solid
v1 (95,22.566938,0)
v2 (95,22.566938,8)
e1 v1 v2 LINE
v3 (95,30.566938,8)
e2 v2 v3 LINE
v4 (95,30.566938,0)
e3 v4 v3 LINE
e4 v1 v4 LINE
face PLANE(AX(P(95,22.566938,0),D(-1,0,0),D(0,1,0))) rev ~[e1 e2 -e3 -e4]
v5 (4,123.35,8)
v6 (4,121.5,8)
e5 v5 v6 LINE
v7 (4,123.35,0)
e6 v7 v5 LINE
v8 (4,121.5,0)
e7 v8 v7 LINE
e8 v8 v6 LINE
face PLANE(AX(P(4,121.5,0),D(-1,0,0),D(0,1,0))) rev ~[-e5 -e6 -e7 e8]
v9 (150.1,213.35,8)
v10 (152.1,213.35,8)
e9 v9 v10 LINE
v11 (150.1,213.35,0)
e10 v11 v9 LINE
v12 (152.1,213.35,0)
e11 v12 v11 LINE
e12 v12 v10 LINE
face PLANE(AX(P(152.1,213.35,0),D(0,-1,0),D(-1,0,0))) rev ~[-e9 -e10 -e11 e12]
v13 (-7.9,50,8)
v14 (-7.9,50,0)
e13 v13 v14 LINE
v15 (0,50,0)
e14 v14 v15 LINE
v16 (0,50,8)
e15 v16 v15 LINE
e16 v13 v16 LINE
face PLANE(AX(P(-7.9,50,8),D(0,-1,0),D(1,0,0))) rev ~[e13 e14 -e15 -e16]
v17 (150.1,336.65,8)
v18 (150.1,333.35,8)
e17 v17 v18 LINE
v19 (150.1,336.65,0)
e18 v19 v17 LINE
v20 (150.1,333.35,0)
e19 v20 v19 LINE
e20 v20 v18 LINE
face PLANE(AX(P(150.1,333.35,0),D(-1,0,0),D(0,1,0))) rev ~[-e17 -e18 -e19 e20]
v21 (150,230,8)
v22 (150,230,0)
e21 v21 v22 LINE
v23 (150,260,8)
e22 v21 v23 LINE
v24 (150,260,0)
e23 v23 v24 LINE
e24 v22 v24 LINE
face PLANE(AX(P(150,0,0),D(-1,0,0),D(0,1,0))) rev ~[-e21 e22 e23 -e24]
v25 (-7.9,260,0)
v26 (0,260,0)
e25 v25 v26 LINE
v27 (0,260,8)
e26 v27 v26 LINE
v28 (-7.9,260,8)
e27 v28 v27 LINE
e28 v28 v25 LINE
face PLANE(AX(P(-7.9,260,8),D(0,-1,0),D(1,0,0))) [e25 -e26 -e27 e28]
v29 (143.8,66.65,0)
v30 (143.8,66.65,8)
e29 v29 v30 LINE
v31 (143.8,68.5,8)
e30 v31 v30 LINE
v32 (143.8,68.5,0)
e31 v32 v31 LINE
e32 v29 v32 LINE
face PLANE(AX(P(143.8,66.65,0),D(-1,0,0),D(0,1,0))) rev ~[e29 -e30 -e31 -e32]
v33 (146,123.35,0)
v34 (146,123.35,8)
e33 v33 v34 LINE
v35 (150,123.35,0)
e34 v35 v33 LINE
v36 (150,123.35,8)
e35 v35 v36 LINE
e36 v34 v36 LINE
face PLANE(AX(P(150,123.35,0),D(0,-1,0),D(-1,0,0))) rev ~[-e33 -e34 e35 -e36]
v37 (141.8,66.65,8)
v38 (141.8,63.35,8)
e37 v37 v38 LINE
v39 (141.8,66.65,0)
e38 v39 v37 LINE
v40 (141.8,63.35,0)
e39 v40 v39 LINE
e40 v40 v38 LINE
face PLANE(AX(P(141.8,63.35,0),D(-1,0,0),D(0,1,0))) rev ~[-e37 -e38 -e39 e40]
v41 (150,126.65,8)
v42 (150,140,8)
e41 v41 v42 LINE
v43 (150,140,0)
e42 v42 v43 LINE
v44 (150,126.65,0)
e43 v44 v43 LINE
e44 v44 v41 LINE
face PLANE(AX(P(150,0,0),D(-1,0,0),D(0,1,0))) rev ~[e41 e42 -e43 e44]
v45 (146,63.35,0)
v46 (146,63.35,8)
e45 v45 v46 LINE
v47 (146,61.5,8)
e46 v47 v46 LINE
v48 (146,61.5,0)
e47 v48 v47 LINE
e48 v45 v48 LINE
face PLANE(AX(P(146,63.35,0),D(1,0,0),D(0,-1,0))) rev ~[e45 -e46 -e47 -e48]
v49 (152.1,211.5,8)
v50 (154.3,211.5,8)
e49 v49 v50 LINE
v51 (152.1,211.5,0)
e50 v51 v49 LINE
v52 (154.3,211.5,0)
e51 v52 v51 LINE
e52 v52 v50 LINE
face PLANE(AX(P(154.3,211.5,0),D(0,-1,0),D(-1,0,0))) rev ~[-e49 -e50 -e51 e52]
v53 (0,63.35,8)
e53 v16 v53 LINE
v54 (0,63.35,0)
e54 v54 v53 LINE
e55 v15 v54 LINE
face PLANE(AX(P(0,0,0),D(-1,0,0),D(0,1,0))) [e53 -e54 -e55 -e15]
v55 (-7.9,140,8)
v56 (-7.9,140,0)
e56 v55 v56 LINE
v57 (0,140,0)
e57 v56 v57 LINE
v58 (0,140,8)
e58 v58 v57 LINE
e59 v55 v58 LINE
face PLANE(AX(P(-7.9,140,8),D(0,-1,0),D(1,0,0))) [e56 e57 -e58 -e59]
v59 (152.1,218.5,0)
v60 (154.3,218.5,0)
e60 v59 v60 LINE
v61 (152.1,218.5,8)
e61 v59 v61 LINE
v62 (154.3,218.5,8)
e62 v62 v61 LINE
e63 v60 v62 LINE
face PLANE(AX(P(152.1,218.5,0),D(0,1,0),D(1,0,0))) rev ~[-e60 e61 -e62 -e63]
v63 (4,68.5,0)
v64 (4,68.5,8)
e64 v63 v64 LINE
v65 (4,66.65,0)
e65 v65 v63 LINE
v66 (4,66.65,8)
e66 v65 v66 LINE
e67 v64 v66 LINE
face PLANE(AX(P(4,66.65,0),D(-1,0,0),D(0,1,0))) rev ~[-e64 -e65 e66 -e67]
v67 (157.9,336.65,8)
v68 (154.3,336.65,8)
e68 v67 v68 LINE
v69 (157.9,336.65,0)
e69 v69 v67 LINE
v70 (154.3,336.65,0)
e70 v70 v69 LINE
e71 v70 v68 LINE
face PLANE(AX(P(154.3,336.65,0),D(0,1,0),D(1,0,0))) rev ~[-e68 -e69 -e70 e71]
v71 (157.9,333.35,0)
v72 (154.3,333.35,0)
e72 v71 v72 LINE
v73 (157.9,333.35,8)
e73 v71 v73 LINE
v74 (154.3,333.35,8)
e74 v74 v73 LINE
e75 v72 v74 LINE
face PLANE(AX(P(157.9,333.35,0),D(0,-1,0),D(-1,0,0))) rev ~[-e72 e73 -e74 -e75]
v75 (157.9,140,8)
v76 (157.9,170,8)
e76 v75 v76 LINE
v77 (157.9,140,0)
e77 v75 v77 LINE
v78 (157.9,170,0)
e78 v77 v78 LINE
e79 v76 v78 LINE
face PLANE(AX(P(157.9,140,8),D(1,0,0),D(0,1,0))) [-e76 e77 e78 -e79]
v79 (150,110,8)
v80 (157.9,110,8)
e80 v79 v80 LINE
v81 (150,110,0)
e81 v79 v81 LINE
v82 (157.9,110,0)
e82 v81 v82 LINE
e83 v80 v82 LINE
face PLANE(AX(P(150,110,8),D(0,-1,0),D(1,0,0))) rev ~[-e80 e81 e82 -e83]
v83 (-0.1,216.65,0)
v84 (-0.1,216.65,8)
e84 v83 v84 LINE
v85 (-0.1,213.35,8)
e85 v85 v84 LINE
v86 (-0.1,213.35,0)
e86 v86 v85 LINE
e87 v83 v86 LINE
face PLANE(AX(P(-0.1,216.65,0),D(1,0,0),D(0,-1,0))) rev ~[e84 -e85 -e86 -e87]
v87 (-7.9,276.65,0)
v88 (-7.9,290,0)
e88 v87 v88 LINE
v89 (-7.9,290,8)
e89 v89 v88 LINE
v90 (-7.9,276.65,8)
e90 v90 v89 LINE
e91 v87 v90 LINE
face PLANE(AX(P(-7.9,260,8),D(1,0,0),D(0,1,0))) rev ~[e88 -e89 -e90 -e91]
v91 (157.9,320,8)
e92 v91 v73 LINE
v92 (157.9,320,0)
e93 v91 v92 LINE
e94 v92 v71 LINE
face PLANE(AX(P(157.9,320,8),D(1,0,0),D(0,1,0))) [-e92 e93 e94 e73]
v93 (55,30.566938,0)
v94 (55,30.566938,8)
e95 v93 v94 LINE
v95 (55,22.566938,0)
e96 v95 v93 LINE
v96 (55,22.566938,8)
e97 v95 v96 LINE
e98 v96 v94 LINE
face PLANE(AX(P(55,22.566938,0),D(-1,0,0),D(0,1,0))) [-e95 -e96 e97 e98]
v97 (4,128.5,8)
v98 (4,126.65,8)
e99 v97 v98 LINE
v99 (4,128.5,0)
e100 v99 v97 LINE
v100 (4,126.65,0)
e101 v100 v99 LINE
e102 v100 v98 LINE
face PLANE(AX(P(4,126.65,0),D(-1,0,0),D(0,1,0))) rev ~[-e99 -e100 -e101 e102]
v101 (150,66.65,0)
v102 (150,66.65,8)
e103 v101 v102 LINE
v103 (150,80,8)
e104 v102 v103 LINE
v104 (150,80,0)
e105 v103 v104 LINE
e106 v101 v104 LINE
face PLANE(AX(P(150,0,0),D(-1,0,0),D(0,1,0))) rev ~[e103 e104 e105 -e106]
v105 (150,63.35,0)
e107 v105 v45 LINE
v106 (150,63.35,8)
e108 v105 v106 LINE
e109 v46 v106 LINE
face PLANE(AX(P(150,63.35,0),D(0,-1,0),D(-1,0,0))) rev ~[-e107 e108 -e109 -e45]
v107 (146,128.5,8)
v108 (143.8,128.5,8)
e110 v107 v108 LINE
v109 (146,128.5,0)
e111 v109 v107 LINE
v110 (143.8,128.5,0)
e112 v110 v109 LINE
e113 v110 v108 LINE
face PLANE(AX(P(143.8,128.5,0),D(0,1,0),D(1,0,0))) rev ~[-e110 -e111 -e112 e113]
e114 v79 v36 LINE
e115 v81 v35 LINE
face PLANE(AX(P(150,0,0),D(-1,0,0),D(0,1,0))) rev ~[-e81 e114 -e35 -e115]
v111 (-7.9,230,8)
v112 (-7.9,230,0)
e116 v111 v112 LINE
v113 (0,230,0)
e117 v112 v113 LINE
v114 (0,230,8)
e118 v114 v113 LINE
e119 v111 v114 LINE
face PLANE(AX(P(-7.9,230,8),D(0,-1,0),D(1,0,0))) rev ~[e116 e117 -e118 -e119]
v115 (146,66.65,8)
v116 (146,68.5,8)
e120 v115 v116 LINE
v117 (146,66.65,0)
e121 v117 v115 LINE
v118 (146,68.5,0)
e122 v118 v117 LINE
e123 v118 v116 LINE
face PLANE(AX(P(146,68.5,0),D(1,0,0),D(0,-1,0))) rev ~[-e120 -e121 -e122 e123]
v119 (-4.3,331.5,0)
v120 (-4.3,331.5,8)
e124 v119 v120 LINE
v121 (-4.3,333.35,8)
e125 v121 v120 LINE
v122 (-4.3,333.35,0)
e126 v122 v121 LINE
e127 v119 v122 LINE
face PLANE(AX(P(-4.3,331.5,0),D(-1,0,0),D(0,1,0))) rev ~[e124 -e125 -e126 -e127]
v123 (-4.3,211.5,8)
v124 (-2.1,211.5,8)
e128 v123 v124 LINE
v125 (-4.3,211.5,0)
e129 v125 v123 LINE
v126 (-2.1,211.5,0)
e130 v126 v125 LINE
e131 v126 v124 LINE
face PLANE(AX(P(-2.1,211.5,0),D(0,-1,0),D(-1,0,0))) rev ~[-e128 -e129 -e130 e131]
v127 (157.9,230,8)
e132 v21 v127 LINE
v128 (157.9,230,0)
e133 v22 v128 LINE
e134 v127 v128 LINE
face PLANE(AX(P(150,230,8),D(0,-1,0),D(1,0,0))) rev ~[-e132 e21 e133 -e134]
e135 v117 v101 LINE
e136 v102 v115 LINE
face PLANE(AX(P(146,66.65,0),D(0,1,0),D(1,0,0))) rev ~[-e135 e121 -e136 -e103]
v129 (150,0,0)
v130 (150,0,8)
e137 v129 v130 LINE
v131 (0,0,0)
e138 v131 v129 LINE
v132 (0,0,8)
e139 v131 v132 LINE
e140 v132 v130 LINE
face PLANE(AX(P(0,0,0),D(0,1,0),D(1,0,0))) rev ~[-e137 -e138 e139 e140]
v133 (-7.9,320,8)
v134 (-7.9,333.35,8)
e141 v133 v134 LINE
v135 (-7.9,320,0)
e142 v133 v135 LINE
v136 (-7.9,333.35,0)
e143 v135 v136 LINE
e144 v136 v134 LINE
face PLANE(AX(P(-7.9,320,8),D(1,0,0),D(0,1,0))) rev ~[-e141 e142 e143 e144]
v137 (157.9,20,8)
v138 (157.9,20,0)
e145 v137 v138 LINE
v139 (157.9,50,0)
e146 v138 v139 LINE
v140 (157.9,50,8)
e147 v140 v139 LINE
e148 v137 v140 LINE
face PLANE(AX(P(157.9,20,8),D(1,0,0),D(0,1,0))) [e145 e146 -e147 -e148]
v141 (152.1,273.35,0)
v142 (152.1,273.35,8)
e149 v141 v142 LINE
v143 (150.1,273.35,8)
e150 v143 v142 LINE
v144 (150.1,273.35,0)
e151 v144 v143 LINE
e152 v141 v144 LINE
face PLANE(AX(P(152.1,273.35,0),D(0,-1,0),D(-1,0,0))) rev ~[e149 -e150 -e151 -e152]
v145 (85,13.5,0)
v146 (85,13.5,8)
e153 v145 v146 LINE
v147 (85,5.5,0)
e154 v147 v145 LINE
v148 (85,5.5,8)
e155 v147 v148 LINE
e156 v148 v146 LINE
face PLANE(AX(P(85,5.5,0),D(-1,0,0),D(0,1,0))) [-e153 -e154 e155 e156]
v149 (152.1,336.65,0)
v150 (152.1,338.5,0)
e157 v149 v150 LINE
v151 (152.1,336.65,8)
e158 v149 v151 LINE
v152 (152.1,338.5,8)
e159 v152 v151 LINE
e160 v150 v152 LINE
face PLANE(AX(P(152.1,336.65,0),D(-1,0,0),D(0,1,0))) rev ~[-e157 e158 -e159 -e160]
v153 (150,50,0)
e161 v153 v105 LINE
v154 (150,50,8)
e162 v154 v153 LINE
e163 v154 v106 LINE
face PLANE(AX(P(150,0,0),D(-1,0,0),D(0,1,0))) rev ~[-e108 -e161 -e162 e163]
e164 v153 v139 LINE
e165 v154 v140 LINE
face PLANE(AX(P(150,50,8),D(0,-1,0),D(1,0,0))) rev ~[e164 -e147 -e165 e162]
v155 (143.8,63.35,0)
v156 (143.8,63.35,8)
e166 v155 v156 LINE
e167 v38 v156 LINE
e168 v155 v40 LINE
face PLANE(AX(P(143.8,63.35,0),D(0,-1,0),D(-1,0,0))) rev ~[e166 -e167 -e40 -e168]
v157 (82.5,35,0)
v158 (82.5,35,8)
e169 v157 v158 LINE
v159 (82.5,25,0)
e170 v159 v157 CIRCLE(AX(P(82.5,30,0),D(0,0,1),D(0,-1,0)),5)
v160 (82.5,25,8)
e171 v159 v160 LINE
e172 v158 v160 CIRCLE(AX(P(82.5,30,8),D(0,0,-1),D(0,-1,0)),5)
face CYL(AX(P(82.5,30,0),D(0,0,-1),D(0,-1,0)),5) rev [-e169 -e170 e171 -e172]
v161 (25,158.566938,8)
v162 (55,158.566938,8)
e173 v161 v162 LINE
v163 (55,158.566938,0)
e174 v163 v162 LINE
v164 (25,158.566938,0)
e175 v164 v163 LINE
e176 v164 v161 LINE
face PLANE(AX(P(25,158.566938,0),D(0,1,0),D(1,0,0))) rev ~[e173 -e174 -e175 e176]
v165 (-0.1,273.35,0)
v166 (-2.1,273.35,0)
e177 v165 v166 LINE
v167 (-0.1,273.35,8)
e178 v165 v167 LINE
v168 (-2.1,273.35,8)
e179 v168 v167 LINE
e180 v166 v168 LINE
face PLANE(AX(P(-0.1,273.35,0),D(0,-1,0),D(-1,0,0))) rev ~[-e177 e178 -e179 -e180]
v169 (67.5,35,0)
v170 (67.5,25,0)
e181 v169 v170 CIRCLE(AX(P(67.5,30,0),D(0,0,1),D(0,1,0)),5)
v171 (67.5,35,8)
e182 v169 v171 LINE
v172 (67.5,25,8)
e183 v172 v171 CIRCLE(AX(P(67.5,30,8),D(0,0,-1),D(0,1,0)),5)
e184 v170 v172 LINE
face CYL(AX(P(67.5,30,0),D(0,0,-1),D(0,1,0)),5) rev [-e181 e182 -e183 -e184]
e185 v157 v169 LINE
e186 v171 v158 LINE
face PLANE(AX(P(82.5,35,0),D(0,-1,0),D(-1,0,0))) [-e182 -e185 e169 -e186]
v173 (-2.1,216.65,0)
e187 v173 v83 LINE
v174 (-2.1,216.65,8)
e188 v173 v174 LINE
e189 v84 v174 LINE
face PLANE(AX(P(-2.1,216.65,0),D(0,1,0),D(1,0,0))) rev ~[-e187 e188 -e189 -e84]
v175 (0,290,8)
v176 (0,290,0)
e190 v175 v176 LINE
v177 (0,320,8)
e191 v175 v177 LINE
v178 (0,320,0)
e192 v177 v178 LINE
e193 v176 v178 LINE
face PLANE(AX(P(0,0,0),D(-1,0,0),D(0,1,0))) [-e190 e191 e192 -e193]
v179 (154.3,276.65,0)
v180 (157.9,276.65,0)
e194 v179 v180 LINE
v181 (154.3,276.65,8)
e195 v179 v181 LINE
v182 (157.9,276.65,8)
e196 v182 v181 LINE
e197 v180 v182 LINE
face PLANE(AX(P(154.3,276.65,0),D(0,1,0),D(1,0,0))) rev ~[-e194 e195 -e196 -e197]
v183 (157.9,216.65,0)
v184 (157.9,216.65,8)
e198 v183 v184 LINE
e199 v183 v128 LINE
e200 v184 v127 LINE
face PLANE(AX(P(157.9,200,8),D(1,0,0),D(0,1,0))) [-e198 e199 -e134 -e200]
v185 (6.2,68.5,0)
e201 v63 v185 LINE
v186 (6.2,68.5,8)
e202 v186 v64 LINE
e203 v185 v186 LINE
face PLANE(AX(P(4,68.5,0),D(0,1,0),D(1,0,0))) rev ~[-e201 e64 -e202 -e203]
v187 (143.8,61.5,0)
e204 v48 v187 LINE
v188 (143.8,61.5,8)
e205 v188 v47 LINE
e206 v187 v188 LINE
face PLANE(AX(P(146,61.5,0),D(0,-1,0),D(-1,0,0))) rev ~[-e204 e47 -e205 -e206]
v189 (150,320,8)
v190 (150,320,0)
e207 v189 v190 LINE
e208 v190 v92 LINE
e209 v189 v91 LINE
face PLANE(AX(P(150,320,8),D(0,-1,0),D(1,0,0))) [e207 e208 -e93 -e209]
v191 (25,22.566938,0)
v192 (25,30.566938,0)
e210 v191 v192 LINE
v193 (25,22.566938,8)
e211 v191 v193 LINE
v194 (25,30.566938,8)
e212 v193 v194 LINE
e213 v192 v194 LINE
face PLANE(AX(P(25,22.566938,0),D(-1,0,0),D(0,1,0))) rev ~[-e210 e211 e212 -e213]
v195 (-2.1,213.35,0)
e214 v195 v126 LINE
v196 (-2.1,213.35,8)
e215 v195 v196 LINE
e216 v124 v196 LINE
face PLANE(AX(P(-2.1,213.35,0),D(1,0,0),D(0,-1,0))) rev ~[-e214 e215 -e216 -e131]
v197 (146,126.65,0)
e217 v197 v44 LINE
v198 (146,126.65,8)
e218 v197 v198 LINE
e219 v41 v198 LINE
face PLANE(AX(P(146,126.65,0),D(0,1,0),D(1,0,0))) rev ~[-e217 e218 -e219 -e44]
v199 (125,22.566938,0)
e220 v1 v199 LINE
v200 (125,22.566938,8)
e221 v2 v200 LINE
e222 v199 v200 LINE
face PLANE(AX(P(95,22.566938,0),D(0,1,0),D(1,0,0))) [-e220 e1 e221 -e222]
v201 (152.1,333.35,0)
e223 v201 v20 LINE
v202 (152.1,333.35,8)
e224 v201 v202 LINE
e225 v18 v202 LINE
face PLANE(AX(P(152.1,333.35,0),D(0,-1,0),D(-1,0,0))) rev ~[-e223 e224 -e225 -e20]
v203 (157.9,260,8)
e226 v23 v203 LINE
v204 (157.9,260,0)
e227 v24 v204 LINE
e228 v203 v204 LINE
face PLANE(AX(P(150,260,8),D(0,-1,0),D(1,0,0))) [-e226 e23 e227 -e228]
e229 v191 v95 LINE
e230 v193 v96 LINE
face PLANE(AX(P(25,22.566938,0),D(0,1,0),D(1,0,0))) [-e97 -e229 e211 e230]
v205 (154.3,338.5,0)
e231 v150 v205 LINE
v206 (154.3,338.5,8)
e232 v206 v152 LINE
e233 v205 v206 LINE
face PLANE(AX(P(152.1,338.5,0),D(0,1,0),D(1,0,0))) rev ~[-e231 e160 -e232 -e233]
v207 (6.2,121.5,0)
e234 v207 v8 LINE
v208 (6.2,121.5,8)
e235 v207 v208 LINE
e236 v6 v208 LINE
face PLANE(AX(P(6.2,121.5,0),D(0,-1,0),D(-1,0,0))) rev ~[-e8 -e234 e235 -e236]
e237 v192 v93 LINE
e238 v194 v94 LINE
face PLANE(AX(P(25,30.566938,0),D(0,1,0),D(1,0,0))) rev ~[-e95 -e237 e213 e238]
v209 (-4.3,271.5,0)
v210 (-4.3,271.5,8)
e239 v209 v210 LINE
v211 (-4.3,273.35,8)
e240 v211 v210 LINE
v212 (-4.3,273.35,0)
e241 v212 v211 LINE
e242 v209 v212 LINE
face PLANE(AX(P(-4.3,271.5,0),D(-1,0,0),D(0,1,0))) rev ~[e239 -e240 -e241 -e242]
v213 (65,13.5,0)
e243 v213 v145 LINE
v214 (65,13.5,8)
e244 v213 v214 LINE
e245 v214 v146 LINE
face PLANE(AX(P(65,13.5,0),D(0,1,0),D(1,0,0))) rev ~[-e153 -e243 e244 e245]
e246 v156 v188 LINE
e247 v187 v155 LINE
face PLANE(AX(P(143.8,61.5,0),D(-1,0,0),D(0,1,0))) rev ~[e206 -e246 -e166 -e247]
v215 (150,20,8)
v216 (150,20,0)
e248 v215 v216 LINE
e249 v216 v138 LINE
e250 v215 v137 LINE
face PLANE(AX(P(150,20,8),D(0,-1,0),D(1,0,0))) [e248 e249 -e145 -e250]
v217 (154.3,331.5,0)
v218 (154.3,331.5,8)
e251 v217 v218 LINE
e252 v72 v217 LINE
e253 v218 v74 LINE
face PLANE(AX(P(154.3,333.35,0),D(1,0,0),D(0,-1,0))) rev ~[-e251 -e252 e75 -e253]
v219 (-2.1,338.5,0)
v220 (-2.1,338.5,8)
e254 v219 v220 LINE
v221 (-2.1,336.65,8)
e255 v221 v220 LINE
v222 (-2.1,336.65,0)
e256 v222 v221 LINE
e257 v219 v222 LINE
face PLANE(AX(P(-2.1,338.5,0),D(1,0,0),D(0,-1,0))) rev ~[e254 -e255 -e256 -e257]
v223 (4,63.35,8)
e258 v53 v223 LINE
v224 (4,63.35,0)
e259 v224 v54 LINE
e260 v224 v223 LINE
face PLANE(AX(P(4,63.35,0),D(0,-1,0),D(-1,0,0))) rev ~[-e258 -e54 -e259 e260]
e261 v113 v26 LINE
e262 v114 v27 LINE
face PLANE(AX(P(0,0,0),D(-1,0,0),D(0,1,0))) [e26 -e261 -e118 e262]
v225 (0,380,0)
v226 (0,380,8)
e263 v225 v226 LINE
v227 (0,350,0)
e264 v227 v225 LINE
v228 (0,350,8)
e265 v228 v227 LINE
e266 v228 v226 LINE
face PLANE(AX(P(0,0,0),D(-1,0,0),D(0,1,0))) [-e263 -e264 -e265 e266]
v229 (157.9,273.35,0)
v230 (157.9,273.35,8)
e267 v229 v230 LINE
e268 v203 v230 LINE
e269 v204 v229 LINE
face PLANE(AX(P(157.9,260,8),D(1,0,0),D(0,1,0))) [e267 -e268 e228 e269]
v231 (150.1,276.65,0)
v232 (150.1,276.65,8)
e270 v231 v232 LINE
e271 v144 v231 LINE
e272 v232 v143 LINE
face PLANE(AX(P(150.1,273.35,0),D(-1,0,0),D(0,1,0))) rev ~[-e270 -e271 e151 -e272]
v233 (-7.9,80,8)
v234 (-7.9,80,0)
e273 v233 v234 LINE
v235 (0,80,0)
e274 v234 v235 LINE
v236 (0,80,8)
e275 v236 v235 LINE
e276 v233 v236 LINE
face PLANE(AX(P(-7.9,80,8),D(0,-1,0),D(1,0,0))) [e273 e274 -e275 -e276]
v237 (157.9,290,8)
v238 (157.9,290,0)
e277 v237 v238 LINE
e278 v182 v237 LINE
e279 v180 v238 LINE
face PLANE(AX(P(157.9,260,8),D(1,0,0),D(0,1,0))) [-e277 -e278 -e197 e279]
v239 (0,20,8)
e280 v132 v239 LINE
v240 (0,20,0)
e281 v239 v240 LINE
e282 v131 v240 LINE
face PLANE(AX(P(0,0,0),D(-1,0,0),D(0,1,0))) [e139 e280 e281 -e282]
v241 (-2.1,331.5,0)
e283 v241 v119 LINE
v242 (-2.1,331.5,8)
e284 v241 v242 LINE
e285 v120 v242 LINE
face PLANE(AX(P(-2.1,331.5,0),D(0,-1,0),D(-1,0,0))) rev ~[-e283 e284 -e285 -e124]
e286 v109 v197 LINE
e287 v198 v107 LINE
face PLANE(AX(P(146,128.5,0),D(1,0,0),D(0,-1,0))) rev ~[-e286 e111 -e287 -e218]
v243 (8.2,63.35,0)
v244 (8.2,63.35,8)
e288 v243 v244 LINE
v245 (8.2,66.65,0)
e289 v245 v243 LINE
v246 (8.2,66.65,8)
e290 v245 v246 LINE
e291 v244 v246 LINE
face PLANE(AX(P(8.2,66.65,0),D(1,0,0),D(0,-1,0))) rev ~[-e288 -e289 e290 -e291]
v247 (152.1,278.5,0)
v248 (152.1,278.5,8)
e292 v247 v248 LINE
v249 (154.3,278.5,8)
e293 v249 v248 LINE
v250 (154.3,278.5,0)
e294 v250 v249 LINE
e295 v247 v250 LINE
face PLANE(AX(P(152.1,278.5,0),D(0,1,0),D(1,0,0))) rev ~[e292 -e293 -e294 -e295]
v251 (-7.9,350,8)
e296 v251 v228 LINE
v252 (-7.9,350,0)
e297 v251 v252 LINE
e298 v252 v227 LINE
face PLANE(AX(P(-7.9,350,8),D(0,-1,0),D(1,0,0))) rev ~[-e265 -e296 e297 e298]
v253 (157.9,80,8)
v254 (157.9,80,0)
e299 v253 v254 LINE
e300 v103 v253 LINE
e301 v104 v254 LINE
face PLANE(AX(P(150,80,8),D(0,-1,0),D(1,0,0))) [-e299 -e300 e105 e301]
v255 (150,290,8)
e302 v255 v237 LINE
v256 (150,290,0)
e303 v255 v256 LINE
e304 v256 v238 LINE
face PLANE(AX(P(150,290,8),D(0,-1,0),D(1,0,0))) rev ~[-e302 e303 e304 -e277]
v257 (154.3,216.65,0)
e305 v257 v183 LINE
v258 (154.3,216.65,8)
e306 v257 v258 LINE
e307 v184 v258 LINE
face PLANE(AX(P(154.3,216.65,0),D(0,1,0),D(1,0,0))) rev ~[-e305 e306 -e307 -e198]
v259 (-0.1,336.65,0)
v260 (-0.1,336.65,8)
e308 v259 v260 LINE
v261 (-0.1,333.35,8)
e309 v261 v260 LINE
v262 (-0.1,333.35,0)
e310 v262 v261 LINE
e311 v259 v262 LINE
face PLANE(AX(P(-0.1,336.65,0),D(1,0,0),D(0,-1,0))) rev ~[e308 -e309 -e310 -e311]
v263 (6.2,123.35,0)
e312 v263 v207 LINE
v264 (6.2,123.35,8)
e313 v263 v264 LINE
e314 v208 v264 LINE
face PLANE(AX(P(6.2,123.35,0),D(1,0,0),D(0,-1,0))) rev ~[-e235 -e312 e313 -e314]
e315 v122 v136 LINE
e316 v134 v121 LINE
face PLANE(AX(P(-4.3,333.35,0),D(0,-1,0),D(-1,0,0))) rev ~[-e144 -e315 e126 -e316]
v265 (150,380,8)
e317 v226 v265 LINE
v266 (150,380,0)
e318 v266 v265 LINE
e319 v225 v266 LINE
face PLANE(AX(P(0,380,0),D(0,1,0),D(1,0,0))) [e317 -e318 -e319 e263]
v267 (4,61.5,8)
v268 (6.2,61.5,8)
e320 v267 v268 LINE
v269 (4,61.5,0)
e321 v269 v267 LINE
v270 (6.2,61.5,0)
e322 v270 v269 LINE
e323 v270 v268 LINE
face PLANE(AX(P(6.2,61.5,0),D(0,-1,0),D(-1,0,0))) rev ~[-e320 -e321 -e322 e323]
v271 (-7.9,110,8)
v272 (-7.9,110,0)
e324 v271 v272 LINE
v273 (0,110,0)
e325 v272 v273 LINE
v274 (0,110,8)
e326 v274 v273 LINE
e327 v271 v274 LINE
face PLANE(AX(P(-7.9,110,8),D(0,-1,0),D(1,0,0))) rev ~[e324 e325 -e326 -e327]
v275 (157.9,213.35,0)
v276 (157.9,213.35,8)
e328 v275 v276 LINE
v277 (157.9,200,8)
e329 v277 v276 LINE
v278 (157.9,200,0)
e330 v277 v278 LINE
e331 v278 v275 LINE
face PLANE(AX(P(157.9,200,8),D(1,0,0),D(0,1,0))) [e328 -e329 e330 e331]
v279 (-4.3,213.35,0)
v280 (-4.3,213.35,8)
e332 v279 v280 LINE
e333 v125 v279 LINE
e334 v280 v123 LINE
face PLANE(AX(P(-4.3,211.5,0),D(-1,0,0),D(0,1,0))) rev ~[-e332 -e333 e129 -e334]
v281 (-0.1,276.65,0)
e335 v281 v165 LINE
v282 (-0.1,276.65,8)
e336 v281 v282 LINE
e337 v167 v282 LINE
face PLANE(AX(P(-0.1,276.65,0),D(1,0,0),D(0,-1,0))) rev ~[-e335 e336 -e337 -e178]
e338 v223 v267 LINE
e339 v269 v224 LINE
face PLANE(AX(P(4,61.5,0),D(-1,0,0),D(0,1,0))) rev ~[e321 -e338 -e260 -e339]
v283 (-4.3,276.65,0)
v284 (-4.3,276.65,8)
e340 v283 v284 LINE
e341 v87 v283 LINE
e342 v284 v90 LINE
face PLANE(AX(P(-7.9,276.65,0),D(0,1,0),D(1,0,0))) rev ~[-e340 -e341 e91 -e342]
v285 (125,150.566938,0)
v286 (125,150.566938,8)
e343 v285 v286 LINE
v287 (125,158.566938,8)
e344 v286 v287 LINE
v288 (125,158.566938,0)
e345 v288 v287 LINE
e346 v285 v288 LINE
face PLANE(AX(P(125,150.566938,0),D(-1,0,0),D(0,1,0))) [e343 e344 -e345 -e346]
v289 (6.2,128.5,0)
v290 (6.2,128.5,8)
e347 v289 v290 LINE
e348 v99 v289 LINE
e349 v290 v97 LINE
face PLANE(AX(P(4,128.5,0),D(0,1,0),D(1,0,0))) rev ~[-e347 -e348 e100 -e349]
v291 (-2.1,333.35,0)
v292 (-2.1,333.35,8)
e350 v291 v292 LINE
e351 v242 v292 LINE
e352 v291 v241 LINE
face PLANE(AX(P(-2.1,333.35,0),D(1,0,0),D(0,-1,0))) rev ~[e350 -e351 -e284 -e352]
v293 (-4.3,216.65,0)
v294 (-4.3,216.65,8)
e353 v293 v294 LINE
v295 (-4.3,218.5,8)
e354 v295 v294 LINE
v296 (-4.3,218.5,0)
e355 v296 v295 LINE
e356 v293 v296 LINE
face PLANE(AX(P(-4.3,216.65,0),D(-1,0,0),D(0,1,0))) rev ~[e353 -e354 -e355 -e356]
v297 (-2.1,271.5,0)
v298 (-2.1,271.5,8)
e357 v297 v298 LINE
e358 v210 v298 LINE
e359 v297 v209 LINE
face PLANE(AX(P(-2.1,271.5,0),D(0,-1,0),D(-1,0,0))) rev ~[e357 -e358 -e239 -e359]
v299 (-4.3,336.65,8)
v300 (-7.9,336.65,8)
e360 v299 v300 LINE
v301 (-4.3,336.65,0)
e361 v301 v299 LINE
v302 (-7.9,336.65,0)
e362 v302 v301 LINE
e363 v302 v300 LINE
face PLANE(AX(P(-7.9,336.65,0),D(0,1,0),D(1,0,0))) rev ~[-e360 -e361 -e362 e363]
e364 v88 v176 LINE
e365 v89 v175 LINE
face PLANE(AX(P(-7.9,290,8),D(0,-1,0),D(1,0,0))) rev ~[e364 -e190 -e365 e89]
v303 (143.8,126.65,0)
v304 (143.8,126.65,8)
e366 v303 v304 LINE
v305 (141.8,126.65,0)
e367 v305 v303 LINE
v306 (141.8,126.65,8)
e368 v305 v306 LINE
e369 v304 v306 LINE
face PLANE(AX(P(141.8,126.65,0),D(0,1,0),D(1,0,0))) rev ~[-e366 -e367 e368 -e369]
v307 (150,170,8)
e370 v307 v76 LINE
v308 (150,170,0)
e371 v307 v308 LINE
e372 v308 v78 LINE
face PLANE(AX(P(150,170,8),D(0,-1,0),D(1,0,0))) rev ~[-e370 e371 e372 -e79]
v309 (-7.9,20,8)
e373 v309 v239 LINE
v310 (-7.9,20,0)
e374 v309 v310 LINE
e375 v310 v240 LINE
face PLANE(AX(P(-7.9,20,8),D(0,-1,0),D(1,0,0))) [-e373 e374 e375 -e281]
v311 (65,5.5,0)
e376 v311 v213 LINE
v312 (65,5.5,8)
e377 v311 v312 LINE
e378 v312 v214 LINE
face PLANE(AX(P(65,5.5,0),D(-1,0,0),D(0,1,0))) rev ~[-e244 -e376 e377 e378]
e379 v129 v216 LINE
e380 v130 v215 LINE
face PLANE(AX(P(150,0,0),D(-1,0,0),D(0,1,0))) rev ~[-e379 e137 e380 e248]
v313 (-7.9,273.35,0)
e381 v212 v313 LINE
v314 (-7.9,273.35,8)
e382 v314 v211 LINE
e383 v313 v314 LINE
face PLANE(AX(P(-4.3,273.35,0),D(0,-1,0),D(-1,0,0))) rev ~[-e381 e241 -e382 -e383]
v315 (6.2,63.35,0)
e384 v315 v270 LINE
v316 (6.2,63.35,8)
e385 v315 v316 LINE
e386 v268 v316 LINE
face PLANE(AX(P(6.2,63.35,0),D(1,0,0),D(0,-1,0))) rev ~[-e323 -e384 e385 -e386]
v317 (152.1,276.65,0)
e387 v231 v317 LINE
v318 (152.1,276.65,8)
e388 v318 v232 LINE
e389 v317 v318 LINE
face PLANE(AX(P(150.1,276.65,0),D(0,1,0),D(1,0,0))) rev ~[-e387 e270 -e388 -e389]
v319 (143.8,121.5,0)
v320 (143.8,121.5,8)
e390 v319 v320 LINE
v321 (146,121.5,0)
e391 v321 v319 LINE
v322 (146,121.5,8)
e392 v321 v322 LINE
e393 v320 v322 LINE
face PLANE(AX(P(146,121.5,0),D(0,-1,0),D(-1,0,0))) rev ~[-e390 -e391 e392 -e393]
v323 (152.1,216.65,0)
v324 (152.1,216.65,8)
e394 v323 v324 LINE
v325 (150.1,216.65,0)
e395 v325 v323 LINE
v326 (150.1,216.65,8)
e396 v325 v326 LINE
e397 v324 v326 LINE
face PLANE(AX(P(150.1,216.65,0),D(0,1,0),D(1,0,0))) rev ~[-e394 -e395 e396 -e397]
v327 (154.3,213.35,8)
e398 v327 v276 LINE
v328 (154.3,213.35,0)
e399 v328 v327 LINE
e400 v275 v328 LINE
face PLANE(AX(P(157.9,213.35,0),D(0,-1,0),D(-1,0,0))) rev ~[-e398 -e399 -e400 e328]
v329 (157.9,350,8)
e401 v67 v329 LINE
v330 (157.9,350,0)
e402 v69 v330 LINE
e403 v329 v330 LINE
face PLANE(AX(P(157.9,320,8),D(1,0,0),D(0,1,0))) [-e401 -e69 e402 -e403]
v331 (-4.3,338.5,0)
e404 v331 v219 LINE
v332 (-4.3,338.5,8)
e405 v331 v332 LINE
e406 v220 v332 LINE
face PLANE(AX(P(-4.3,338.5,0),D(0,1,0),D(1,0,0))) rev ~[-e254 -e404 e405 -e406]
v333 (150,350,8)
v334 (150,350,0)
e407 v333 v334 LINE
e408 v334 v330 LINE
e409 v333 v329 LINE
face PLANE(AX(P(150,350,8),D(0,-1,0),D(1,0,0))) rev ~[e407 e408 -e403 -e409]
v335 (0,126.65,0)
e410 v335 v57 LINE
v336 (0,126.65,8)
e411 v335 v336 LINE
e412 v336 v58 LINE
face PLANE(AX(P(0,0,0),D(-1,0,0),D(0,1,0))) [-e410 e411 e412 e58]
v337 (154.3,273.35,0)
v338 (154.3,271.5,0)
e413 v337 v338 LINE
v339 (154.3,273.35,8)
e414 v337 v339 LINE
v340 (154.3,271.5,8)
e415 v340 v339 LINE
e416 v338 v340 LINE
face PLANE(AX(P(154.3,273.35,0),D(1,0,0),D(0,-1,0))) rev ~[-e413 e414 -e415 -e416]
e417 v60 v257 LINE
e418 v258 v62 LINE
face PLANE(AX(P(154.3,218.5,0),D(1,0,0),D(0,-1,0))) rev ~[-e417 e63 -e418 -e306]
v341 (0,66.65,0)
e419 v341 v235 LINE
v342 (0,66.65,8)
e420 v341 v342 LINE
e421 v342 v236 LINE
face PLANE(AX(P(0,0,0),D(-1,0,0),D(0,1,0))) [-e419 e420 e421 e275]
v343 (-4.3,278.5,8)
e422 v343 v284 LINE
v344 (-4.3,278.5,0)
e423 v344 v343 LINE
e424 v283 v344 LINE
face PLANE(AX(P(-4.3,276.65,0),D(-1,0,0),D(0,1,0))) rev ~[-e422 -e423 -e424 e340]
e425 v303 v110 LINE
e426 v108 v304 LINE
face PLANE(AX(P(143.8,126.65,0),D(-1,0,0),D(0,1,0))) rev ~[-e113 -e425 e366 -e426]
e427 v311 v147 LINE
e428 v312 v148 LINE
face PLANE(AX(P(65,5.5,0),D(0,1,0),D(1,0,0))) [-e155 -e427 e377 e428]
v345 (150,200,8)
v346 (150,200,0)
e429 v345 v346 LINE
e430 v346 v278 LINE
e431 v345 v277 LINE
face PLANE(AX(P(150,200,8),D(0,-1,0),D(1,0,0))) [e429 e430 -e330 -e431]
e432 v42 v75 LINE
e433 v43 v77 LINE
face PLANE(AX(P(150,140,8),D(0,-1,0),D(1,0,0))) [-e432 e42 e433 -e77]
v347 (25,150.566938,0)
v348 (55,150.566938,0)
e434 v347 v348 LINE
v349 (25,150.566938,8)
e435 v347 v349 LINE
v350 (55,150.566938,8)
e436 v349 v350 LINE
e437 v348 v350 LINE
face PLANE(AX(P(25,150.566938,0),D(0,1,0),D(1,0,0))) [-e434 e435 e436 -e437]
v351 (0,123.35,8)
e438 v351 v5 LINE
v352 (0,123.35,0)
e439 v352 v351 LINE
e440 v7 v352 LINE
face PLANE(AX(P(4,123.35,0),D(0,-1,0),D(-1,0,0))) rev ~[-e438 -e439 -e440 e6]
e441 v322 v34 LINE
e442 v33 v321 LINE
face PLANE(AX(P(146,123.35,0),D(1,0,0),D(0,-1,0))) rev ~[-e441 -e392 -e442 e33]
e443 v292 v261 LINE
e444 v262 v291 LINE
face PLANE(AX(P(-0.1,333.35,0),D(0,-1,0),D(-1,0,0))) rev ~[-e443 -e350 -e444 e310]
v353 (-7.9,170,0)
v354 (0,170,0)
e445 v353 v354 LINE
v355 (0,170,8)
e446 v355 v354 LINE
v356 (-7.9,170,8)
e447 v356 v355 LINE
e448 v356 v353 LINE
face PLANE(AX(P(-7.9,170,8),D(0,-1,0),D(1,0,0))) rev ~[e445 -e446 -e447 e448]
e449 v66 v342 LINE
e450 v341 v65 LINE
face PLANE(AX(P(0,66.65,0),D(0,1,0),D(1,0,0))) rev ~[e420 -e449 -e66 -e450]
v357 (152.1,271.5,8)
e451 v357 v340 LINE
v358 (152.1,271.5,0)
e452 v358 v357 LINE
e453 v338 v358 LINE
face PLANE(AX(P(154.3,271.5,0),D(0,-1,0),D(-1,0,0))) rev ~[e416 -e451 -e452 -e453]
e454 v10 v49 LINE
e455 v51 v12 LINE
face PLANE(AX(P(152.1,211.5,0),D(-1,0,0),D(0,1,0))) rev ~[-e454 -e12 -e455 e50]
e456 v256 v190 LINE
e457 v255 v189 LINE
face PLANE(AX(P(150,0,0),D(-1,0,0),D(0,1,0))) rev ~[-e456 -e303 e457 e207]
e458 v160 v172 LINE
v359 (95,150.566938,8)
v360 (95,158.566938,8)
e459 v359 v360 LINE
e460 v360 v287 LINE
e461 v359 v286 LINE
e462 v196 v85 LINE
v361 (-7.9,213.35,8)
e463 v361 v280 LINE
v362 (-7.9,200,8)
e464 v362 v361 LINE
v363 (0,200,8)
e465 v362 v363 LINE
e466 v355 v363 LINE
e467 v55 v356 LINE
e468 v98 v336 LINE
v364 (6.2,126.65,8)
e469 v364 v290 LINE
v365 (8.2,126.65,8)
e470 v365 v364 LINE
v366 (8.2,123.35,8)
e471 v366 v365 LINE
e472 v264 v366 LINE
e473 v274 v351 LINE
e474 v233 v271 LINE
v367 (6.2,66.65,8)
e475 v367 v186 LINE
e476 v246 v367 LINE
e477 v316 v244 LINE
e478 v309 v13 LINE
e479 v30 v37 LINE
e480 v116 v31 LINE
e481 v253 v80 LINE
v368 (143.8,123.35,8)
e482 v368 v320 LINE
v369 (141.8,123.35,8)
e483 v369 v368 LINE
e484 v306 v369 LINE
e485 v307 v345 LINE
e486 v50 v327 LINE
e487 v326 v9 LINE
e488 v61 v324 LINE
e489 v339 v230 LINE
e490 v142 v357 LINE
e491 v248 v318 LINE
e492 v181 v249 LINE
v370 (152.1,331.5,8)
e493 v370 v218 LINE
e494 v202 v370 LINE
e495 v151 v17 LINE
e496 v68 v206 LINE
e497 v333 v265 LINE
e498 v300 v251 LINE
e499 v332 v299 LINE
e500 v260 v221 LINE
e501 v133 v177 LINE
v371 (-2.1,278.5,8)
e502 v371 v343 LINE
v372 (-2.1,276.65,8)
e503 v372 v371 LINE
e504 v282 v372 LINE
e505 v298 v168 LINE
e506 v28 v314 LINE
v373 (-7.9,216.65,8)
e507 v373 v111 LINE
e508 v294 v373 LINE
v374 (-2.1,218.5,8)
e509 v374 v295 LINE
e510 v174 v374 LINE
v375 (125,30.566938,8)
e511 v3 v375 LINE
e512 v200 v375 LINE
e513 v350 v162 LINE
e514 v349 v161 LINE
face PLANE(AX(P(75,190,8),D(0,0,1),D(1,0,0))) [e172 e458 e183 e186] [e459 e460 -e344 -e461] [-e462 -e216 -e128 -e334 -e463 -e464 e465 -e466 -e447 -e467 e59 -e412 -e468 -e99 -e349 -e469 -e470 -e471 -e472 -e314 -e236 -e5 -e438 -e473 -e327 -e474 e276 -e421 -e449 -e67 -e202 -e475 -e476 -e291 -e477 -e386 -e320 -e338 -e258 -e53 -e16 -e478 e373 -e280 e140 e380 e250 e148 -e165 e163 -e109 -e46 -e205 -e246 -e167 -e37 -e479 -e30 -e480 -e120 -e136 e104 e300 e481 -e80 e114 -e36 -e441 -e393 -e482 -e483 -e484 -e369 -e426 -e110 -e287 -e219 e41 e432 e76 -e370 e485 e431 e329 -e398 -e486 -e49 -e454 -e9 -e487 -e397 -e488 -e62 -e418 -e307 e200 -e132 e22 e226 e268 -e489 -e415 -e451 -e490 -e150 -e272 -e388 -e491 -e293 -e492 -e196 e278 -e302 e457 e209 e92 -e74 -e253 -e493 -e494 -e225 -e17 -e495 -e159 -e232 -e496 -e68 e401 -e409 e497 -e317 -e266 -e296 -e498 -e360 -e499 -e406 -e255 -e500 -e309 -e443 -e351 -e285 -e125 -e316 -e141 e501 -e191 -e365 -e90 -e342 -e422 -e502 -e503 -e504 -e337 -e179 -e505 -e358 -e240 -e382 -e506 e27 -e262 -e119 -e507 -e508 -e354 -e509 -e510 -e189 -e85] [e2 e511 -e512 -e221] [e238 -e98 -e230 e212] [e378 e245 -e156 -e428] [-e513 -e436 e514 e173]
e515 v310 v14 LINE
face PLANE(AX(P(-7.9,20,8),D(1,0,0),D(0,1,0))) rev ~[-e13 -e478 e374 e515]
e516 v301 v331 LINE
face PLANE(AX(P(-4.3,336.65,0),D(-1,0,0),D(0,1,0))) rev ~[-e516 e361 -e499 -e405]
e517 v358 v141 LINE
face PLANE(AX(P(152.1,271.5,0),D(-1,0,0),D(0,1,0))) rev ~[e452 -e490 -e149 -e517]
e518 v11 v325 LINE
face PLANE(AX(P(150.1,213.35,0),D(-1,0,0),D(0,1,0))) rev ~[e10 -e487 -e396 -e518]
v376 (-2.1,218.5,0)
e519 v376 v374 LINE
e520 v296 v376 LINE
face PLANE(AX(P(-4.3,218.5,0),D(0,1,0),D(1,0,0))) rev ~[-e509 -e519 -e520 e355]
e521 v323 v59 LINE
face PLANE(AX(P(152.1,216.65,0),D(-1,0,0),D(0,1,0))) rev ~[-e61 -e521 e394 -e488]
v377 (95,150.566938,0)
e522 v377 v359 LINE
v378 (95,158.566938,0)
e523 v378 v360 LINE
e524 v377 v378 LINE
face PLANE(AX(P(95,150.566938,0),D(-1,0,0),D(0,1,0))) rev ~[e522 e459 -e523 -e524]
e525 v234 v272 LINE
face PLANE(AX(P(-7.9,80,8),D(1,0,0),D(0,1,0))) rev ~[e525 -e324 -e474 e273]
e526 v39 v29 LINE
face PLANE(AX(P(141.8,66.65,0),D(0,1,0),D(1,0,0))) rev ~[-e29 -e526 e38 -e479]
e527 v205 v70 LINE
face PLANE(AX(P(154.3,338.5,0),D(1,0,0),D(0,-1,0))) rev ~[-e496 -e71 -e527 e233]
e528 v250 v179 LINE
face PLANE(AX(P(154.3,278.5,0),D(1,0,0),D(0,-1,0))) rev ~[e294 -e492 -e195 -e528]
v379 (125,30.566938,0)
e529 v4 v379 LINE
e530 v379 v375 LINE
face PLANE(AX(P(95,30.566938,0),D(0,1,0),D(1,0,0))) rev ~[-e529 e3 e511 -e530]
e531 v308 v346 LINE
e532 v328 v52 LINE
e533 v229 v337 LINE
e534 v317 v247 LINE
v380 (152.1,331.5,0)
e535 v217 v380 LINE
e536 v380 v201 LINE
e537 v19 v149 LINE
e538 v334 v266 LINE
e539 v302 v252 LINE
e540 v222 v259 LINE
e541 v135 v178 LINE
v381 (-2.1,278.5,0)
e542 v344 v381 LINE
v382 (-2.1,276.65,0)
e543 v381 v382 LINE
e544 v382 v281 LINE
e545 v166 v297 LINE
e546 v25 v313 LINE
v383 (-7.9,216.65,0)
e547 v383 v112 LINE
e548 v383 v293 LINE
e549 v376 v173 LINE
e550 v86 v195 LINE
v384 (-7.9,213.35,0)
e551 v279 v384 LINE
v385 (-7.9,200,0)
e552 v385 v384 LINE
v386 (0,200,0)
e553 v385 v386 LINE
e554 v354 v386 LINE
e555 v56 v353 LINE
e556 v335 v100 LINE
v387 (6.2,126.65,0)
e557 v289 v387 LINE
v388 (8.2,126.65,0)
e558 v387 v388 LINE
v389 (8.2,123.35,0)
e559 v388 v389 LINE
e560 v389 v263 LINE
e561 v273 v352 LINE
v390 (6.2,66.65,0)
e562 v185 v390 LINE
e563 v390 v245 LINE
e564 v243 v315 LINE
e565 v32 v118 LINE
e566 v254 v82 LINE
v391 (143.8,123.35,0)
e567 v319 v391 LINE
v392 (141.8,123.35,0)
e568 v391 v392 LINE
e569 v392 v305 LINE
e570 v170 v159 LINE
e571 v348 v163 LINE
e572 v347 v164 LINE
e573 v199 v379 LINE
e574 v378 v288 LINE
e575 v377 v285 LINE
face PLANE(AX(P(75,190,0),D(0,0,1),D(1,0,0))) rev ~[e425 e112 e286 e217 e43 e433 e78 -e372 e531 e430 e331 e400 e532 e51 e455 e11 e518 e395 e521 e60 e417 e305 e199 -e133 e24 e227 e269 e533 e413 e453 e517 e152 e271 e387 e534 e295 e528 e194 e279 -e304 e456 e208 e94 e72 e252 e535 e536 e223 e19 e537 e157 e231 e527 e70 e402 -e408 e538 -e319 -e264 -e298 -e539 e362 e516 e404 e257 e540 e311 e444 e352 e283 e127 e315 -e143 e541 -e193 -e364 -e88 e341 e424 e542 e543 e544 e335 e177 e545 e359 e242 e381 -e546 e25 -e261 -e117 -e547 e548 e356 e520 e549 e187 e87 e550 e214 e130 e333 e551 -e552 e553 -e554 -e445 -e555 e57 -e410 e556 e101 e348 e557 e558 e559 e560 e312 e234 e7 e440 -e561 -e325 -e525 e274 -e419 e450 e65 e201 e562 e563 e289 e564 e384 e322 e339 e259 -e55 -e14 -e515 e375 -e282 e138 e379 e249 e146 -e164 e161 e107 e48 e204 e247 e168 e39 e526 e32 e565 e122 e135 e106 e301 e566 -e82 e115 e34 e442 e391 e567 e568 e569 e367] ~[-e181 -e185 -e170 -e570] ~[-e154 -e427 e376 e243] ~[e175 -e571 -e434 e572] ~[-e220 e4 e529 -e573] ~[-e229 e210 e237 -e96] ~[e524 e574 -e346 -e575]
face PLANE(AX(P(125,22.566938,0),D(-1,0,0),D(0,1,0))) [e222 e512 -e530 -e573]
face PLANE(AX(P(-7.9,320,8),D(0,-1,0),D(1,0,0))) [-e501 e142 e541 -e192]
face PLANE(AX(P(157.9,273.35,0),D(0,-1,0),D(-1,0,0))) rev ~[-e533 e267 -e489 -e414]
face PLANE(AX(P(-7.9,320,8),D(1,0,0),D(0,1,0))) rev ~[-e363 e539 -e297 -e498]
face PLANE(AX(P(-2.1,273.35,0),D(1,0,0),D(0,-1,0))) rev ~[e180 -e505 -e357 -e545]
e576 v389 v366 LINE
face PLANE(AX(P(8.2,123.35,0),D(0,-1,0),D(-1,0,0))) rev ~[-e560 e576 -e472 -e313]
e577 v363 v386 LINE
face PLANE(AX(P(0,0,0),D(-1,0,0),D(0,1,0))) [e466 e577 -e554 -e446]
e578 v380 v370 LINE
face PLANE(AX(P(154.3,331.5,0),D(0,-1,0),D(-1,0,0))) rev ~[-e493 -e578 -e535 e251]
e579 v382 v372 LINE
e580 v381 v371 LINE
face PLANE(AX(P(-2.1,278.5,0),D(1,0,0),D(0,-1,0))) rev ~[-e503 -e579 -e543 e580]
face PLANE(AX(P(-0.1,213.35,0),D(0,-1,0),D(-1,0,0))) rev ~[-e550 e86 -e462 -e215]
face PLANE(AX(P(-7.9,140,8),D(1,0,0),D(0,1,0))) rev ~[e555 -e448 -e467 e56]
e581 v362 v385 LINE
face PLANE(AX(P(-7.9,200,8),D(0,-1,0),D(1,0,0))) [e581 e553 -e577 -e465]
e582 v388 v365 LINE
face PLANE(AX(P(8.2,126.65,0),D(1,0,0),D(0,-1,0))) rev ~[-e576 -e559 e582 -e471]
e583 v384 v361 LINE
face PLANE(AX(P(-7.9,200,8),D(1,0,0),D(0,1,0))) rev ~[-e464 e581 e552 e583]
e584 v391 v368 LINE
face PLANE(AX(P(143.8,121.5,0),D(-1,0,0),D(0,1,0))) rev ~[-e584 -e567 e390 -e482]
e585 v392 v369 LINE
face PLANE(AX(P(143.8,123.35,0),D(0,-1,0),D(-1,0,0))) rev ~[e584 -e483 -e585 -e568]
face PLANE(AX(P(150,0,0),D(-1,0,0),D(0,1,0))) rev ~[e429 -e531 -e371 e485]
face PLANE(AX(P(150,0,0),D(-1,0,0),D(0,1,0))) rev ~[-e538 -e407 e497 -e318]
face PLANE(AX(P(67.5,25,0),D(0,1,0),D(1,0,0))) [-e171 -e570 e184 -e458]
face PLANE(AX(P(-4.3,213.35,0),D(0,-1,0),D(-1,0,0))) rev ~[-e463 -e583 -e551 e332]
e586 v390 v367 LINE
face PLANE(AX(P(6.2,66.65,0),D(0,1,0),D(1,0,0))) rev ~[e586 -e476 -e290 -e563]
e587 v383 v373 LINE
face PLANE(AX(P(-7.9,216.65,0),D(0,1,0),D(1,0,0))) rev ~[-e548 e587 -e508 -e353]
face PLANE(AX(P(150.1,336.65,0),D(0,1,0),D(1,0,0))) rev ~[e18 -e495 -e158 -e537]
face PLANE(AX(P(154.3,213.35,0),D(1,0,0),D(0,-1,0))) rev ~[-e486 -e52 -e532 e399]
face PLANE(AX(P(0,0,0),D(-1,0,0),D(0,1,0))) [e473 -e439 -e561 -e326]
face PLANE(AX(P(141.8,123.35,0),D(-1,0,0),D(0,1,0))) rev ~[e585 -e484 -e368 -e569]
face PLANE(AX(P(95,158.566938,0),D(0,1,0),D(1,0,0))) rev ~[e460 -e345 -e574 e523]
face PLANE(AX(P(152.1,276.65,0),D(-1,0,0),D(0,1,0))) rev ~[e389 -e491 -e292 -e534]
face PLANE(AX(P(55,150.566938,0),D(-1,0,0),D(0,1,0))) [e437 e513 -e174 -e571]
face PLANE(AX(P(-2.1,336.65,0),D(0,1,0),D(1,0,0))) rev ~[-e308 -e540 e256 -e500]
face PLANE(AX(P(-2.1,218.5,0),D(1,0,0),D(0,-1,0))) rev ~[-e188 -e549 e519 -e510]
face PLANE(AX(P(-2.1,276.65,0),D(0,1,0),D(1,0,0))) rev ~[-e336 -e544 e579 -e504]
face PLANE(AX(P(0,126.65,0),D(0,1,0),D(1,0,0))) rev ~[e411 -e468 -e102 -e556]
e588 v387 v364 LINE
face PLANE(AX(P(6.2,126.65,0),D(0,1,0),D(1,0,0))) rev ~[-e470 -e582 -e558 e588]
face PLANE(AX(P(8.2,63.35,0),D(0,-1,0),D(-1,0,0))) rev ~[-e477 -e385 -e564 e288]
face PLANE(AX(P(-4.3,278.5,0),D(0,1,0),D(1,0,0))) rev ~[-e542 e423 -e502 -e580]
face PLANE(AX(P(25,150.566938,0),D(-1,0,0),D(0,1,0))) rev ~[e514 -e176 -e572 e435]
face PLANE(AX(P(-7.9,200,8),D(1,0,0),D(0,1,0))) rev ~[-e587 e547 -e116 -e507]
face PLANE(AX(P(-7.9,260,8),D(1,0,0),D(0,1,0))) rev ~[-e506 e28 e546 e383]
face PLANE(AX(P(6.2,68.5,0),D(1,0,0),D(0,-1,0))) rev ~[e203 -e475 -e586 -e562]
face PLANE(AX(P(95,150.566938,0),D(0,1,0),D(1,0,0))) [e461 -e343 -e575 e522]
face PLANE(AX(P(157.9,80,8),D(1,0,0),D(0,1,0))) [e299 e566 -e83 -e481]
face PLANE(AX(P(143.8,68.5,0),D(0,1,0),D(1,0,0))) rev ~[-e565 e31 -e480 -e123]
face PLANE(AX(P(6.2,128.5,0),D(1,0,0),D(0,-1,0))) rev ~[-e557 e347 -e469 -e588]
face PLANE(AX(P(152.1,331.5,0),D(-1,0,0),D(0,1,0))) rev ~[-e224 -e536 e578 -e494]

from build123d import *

# Parameters (mm, degrees)
SKETCH1_W           = 150
SKETCH1_H           = 380
SKETCH1_W_2         = 30
SKETCH1_H_2         = 8
SKETCH1_W_3         = 20
BOSS_EXTRUDE1_DEPTH = 8
SKETCH2_W           = 7.9
SKETCH2_H           = 30
BOSS_EXTRUDE2_DEPTH = 8
CUT_EXTRUDE2_DEPTH  = 9


with BuildPart() as part:
    # Sketch1 → Boss-Extrude1 (new body)
    with BuildSketch(Plane.XY):
        with Locations((75, 190)):
            Rectangle(SKETCH1_W, SKETCH1_H)
        with Locations((40, 154.566938385)):
            Rectangle(SKETCH1_W_2, SKETCH1_H_2, mode=Mode.SUBTRACT)
        with Locations((110, 154.566938385)):
            Rectangle(SKETCH1_W_2, SKETCH1_H_2, mode=Mode.SUBTRACT)
        with Locations((40, 26.566938385)):
            Rectangle(SKETCH1_W_2, SKETCH1_H_2, mode=Mode.SUBTRACT)
        with Locations((110, 26.566938385)):
            Rectangle(SKETCH1_W_2, SKETCH1_H_2, mode=Mode.SUBTRACT)
        with Locations((75, 9.5)):
            Rectangle(SKETCH1_W_3, SKETCH1_H_2, mode=Mode.SUBTRACT)
    extrude(amount=BOSS_EXTRUDE1_DEPTH)

    # Sketch2 → Boss-Extrude2 (add)
    with BuildSketch(Plane.XY.offset(8)):
        with Locations((153.95, 335)):
            Rectangle(SKETCH2_W, SKETCH2_H)
        with Locations((-3.95, 335)):
            Rectangle(SKETCH2_W, SKETCH2_H)
        with Locations((153.95, 275)):
            Rectangle(SKETCH2_W, SKETCH2_H)
        with Locations((-3.95, 275)):
            Rectangle(SKETCH2_W, SKETCH2_H)
        with Locations((153.95, 215)):
            Rectangle(SKETCH2_W, SKETCH2_H)
        with Locations((-3.95, 215)):
            Rectangle(SKETCH2_W, SKETCH2_H)
        with Locations((153.95, 155)):
            Rectangle(SKETCH2_W, SKETCH2_H)
        with Locations((-3.95, 155)):
            Rectangle(SKETCH2_W, SKETCH2_H)
        with Locations((153.95, 95)):
            Rectangle(SKETCH2_W, SKETCH2_H)
        with Locations((-3.95, 95)):
            Rectangle(SKETCH2_W, SKETCH2_H)
        with Locations((153.95, 35)):
            Rectangle(SKETCH2_W, SKETCH2_H)
        with Locations((-3.95, 35)):
            Rectangle(SKETCH2_W, SKETCH2_H)
    extrude(amount=-BOSS_EXTRUDE2_DEPTH)

    # Sketch3 → Cut-Extrude2 (cut, through all)
    with BuildSketch(Plane(origin=(0, 0, 0), x_dir=(-1, 0, 0), z_dir=(0, 0, -1))):
        with BuildLine():
            Line((-67.5, 25), (-82.5, 25))
            ThreePointArc((-82.5, 25), (-87.5, 30), (-82.5, 35))
            Line((-82.5, 35), (-67.5, 35))
            ThreePointArc((-67.5, 35), (-62.5, 30), (-67.5, 25))
        make_face()
        Polygon((7.9, 336.65), (4.3, 336.65), (4.3, 338.5), (2.1, 338.5), (2.1, 336.65), (0.1, 336.65), (0.1, 333.35), (2.1, 333.35), (2.1, 331.5), (4.3, 331.5), (4.3, 333.35), (7.9, 333.35), align=None)
        Polygon((-157.9, 213.35), (-154.3, 213.35), (-154.3, 211.5), (-152.1, 211.5), (-152.1, 213.35), (-150.1, 213.35), (-150.1, 216.65), (-152.1, 216.65), (-152.1, 218.5), (-154.3, 218.5), (-154.3, 216.65), (-157.9, 216.65), align=None)
        Polygon((-157.9, 273.35), (-154.3, 273.35), (-154.3, 271.5), (-152.1, 271.5), (-152.1, 273.35), (-150.1, 273.35), (-150.1, 276.65), (-152.1, 276.65), (-152.1, 278.5), (-154.3, 278.5), (-154.3, 276.65), (-157.9, 276.65), align=None)
        Polygon((7.9, 276.65), (4.3, 276.65), (4.3, 278.5), (2.1, 278.5), (2.1, 276.65), (0.1, 276.65), (0.1, 273.35), (2.1, 273.35), (2.1, 271.5), (4.3, 271.5), (4.3, 273.35), (7.9, 273.35), align=None)
        Polygon((7.9, 216.65), (4.3, 216.65), (4.3, 218.5), (2.1, 218.5), (2.1, 216.65), (0.1, 216.65), (0.1, 213.35), (2.1, 213.35), (2.1, 211.5), (4.3, 211.5), (4.3, 213.35), (7.9, 213.35), align=None)
        Polygon((-157.9, 333.35), (-154.3, 333.35), (-154.3, 331.5), (-152.1, 331.5), (-152.1, 333.35), (-150.1, 333.35), (-150.1, 336.65), (-152.1, 336.65), (-152.1, 338.5), (-154.3, 338.5), (-154.3, 336.65), (-157.9, 336.65), align=None)
        Polygon((0, 123.35), (0, 126.65), (-4, 126.65), (-4, 128.5), (-6.2, 128.5), (-6.2, 126.65), (-8.2, 126.65), (-8.2, 123.35), (-6.2, 123.35), (-6.2, 121.5), (-4, 121.5), (-4, 123.35), align=None)
        Polygon((0, 63.35), (0, 66.65), (-4, 66.65), (-4, 68.5), (-6.2, 68.5), (-6.2, 66.65), (-8.2, 66.65), (-8.2, 63.35), (-6.2, 63.35), (-6.2, 61.5), (-4, 61.5), (-4, 63.35), align=None)
        Polygon((-150, 63.35), (-146, 63.35), (-146, 61.5), (-143.8, 61.5), (-143.8, 63.35), (-141.8, 63.35), (-141.8, 66.65), (-143.8, 66.65), (-143.8, 68.5), (-146, 68.5), (-146, 66.65), (-150, 66.65), align=None)
        Polygon((-150, 123.35), (-146, 123.35), (-146, 121.5), (-143.8, 121.5), (-143.8, 123.35), (-141.8, 123.35), (-141.8, 126.65), (-143.8, 126.65), (-143.8, 128.5), (-146, 128.5), (-146, 126.65), (-150, 126.65), align=None)
    extrude(amount=-CUT_EXTRUDE2_DEPTH, mode=Mode.SUBTRACT)


solid = part.part
